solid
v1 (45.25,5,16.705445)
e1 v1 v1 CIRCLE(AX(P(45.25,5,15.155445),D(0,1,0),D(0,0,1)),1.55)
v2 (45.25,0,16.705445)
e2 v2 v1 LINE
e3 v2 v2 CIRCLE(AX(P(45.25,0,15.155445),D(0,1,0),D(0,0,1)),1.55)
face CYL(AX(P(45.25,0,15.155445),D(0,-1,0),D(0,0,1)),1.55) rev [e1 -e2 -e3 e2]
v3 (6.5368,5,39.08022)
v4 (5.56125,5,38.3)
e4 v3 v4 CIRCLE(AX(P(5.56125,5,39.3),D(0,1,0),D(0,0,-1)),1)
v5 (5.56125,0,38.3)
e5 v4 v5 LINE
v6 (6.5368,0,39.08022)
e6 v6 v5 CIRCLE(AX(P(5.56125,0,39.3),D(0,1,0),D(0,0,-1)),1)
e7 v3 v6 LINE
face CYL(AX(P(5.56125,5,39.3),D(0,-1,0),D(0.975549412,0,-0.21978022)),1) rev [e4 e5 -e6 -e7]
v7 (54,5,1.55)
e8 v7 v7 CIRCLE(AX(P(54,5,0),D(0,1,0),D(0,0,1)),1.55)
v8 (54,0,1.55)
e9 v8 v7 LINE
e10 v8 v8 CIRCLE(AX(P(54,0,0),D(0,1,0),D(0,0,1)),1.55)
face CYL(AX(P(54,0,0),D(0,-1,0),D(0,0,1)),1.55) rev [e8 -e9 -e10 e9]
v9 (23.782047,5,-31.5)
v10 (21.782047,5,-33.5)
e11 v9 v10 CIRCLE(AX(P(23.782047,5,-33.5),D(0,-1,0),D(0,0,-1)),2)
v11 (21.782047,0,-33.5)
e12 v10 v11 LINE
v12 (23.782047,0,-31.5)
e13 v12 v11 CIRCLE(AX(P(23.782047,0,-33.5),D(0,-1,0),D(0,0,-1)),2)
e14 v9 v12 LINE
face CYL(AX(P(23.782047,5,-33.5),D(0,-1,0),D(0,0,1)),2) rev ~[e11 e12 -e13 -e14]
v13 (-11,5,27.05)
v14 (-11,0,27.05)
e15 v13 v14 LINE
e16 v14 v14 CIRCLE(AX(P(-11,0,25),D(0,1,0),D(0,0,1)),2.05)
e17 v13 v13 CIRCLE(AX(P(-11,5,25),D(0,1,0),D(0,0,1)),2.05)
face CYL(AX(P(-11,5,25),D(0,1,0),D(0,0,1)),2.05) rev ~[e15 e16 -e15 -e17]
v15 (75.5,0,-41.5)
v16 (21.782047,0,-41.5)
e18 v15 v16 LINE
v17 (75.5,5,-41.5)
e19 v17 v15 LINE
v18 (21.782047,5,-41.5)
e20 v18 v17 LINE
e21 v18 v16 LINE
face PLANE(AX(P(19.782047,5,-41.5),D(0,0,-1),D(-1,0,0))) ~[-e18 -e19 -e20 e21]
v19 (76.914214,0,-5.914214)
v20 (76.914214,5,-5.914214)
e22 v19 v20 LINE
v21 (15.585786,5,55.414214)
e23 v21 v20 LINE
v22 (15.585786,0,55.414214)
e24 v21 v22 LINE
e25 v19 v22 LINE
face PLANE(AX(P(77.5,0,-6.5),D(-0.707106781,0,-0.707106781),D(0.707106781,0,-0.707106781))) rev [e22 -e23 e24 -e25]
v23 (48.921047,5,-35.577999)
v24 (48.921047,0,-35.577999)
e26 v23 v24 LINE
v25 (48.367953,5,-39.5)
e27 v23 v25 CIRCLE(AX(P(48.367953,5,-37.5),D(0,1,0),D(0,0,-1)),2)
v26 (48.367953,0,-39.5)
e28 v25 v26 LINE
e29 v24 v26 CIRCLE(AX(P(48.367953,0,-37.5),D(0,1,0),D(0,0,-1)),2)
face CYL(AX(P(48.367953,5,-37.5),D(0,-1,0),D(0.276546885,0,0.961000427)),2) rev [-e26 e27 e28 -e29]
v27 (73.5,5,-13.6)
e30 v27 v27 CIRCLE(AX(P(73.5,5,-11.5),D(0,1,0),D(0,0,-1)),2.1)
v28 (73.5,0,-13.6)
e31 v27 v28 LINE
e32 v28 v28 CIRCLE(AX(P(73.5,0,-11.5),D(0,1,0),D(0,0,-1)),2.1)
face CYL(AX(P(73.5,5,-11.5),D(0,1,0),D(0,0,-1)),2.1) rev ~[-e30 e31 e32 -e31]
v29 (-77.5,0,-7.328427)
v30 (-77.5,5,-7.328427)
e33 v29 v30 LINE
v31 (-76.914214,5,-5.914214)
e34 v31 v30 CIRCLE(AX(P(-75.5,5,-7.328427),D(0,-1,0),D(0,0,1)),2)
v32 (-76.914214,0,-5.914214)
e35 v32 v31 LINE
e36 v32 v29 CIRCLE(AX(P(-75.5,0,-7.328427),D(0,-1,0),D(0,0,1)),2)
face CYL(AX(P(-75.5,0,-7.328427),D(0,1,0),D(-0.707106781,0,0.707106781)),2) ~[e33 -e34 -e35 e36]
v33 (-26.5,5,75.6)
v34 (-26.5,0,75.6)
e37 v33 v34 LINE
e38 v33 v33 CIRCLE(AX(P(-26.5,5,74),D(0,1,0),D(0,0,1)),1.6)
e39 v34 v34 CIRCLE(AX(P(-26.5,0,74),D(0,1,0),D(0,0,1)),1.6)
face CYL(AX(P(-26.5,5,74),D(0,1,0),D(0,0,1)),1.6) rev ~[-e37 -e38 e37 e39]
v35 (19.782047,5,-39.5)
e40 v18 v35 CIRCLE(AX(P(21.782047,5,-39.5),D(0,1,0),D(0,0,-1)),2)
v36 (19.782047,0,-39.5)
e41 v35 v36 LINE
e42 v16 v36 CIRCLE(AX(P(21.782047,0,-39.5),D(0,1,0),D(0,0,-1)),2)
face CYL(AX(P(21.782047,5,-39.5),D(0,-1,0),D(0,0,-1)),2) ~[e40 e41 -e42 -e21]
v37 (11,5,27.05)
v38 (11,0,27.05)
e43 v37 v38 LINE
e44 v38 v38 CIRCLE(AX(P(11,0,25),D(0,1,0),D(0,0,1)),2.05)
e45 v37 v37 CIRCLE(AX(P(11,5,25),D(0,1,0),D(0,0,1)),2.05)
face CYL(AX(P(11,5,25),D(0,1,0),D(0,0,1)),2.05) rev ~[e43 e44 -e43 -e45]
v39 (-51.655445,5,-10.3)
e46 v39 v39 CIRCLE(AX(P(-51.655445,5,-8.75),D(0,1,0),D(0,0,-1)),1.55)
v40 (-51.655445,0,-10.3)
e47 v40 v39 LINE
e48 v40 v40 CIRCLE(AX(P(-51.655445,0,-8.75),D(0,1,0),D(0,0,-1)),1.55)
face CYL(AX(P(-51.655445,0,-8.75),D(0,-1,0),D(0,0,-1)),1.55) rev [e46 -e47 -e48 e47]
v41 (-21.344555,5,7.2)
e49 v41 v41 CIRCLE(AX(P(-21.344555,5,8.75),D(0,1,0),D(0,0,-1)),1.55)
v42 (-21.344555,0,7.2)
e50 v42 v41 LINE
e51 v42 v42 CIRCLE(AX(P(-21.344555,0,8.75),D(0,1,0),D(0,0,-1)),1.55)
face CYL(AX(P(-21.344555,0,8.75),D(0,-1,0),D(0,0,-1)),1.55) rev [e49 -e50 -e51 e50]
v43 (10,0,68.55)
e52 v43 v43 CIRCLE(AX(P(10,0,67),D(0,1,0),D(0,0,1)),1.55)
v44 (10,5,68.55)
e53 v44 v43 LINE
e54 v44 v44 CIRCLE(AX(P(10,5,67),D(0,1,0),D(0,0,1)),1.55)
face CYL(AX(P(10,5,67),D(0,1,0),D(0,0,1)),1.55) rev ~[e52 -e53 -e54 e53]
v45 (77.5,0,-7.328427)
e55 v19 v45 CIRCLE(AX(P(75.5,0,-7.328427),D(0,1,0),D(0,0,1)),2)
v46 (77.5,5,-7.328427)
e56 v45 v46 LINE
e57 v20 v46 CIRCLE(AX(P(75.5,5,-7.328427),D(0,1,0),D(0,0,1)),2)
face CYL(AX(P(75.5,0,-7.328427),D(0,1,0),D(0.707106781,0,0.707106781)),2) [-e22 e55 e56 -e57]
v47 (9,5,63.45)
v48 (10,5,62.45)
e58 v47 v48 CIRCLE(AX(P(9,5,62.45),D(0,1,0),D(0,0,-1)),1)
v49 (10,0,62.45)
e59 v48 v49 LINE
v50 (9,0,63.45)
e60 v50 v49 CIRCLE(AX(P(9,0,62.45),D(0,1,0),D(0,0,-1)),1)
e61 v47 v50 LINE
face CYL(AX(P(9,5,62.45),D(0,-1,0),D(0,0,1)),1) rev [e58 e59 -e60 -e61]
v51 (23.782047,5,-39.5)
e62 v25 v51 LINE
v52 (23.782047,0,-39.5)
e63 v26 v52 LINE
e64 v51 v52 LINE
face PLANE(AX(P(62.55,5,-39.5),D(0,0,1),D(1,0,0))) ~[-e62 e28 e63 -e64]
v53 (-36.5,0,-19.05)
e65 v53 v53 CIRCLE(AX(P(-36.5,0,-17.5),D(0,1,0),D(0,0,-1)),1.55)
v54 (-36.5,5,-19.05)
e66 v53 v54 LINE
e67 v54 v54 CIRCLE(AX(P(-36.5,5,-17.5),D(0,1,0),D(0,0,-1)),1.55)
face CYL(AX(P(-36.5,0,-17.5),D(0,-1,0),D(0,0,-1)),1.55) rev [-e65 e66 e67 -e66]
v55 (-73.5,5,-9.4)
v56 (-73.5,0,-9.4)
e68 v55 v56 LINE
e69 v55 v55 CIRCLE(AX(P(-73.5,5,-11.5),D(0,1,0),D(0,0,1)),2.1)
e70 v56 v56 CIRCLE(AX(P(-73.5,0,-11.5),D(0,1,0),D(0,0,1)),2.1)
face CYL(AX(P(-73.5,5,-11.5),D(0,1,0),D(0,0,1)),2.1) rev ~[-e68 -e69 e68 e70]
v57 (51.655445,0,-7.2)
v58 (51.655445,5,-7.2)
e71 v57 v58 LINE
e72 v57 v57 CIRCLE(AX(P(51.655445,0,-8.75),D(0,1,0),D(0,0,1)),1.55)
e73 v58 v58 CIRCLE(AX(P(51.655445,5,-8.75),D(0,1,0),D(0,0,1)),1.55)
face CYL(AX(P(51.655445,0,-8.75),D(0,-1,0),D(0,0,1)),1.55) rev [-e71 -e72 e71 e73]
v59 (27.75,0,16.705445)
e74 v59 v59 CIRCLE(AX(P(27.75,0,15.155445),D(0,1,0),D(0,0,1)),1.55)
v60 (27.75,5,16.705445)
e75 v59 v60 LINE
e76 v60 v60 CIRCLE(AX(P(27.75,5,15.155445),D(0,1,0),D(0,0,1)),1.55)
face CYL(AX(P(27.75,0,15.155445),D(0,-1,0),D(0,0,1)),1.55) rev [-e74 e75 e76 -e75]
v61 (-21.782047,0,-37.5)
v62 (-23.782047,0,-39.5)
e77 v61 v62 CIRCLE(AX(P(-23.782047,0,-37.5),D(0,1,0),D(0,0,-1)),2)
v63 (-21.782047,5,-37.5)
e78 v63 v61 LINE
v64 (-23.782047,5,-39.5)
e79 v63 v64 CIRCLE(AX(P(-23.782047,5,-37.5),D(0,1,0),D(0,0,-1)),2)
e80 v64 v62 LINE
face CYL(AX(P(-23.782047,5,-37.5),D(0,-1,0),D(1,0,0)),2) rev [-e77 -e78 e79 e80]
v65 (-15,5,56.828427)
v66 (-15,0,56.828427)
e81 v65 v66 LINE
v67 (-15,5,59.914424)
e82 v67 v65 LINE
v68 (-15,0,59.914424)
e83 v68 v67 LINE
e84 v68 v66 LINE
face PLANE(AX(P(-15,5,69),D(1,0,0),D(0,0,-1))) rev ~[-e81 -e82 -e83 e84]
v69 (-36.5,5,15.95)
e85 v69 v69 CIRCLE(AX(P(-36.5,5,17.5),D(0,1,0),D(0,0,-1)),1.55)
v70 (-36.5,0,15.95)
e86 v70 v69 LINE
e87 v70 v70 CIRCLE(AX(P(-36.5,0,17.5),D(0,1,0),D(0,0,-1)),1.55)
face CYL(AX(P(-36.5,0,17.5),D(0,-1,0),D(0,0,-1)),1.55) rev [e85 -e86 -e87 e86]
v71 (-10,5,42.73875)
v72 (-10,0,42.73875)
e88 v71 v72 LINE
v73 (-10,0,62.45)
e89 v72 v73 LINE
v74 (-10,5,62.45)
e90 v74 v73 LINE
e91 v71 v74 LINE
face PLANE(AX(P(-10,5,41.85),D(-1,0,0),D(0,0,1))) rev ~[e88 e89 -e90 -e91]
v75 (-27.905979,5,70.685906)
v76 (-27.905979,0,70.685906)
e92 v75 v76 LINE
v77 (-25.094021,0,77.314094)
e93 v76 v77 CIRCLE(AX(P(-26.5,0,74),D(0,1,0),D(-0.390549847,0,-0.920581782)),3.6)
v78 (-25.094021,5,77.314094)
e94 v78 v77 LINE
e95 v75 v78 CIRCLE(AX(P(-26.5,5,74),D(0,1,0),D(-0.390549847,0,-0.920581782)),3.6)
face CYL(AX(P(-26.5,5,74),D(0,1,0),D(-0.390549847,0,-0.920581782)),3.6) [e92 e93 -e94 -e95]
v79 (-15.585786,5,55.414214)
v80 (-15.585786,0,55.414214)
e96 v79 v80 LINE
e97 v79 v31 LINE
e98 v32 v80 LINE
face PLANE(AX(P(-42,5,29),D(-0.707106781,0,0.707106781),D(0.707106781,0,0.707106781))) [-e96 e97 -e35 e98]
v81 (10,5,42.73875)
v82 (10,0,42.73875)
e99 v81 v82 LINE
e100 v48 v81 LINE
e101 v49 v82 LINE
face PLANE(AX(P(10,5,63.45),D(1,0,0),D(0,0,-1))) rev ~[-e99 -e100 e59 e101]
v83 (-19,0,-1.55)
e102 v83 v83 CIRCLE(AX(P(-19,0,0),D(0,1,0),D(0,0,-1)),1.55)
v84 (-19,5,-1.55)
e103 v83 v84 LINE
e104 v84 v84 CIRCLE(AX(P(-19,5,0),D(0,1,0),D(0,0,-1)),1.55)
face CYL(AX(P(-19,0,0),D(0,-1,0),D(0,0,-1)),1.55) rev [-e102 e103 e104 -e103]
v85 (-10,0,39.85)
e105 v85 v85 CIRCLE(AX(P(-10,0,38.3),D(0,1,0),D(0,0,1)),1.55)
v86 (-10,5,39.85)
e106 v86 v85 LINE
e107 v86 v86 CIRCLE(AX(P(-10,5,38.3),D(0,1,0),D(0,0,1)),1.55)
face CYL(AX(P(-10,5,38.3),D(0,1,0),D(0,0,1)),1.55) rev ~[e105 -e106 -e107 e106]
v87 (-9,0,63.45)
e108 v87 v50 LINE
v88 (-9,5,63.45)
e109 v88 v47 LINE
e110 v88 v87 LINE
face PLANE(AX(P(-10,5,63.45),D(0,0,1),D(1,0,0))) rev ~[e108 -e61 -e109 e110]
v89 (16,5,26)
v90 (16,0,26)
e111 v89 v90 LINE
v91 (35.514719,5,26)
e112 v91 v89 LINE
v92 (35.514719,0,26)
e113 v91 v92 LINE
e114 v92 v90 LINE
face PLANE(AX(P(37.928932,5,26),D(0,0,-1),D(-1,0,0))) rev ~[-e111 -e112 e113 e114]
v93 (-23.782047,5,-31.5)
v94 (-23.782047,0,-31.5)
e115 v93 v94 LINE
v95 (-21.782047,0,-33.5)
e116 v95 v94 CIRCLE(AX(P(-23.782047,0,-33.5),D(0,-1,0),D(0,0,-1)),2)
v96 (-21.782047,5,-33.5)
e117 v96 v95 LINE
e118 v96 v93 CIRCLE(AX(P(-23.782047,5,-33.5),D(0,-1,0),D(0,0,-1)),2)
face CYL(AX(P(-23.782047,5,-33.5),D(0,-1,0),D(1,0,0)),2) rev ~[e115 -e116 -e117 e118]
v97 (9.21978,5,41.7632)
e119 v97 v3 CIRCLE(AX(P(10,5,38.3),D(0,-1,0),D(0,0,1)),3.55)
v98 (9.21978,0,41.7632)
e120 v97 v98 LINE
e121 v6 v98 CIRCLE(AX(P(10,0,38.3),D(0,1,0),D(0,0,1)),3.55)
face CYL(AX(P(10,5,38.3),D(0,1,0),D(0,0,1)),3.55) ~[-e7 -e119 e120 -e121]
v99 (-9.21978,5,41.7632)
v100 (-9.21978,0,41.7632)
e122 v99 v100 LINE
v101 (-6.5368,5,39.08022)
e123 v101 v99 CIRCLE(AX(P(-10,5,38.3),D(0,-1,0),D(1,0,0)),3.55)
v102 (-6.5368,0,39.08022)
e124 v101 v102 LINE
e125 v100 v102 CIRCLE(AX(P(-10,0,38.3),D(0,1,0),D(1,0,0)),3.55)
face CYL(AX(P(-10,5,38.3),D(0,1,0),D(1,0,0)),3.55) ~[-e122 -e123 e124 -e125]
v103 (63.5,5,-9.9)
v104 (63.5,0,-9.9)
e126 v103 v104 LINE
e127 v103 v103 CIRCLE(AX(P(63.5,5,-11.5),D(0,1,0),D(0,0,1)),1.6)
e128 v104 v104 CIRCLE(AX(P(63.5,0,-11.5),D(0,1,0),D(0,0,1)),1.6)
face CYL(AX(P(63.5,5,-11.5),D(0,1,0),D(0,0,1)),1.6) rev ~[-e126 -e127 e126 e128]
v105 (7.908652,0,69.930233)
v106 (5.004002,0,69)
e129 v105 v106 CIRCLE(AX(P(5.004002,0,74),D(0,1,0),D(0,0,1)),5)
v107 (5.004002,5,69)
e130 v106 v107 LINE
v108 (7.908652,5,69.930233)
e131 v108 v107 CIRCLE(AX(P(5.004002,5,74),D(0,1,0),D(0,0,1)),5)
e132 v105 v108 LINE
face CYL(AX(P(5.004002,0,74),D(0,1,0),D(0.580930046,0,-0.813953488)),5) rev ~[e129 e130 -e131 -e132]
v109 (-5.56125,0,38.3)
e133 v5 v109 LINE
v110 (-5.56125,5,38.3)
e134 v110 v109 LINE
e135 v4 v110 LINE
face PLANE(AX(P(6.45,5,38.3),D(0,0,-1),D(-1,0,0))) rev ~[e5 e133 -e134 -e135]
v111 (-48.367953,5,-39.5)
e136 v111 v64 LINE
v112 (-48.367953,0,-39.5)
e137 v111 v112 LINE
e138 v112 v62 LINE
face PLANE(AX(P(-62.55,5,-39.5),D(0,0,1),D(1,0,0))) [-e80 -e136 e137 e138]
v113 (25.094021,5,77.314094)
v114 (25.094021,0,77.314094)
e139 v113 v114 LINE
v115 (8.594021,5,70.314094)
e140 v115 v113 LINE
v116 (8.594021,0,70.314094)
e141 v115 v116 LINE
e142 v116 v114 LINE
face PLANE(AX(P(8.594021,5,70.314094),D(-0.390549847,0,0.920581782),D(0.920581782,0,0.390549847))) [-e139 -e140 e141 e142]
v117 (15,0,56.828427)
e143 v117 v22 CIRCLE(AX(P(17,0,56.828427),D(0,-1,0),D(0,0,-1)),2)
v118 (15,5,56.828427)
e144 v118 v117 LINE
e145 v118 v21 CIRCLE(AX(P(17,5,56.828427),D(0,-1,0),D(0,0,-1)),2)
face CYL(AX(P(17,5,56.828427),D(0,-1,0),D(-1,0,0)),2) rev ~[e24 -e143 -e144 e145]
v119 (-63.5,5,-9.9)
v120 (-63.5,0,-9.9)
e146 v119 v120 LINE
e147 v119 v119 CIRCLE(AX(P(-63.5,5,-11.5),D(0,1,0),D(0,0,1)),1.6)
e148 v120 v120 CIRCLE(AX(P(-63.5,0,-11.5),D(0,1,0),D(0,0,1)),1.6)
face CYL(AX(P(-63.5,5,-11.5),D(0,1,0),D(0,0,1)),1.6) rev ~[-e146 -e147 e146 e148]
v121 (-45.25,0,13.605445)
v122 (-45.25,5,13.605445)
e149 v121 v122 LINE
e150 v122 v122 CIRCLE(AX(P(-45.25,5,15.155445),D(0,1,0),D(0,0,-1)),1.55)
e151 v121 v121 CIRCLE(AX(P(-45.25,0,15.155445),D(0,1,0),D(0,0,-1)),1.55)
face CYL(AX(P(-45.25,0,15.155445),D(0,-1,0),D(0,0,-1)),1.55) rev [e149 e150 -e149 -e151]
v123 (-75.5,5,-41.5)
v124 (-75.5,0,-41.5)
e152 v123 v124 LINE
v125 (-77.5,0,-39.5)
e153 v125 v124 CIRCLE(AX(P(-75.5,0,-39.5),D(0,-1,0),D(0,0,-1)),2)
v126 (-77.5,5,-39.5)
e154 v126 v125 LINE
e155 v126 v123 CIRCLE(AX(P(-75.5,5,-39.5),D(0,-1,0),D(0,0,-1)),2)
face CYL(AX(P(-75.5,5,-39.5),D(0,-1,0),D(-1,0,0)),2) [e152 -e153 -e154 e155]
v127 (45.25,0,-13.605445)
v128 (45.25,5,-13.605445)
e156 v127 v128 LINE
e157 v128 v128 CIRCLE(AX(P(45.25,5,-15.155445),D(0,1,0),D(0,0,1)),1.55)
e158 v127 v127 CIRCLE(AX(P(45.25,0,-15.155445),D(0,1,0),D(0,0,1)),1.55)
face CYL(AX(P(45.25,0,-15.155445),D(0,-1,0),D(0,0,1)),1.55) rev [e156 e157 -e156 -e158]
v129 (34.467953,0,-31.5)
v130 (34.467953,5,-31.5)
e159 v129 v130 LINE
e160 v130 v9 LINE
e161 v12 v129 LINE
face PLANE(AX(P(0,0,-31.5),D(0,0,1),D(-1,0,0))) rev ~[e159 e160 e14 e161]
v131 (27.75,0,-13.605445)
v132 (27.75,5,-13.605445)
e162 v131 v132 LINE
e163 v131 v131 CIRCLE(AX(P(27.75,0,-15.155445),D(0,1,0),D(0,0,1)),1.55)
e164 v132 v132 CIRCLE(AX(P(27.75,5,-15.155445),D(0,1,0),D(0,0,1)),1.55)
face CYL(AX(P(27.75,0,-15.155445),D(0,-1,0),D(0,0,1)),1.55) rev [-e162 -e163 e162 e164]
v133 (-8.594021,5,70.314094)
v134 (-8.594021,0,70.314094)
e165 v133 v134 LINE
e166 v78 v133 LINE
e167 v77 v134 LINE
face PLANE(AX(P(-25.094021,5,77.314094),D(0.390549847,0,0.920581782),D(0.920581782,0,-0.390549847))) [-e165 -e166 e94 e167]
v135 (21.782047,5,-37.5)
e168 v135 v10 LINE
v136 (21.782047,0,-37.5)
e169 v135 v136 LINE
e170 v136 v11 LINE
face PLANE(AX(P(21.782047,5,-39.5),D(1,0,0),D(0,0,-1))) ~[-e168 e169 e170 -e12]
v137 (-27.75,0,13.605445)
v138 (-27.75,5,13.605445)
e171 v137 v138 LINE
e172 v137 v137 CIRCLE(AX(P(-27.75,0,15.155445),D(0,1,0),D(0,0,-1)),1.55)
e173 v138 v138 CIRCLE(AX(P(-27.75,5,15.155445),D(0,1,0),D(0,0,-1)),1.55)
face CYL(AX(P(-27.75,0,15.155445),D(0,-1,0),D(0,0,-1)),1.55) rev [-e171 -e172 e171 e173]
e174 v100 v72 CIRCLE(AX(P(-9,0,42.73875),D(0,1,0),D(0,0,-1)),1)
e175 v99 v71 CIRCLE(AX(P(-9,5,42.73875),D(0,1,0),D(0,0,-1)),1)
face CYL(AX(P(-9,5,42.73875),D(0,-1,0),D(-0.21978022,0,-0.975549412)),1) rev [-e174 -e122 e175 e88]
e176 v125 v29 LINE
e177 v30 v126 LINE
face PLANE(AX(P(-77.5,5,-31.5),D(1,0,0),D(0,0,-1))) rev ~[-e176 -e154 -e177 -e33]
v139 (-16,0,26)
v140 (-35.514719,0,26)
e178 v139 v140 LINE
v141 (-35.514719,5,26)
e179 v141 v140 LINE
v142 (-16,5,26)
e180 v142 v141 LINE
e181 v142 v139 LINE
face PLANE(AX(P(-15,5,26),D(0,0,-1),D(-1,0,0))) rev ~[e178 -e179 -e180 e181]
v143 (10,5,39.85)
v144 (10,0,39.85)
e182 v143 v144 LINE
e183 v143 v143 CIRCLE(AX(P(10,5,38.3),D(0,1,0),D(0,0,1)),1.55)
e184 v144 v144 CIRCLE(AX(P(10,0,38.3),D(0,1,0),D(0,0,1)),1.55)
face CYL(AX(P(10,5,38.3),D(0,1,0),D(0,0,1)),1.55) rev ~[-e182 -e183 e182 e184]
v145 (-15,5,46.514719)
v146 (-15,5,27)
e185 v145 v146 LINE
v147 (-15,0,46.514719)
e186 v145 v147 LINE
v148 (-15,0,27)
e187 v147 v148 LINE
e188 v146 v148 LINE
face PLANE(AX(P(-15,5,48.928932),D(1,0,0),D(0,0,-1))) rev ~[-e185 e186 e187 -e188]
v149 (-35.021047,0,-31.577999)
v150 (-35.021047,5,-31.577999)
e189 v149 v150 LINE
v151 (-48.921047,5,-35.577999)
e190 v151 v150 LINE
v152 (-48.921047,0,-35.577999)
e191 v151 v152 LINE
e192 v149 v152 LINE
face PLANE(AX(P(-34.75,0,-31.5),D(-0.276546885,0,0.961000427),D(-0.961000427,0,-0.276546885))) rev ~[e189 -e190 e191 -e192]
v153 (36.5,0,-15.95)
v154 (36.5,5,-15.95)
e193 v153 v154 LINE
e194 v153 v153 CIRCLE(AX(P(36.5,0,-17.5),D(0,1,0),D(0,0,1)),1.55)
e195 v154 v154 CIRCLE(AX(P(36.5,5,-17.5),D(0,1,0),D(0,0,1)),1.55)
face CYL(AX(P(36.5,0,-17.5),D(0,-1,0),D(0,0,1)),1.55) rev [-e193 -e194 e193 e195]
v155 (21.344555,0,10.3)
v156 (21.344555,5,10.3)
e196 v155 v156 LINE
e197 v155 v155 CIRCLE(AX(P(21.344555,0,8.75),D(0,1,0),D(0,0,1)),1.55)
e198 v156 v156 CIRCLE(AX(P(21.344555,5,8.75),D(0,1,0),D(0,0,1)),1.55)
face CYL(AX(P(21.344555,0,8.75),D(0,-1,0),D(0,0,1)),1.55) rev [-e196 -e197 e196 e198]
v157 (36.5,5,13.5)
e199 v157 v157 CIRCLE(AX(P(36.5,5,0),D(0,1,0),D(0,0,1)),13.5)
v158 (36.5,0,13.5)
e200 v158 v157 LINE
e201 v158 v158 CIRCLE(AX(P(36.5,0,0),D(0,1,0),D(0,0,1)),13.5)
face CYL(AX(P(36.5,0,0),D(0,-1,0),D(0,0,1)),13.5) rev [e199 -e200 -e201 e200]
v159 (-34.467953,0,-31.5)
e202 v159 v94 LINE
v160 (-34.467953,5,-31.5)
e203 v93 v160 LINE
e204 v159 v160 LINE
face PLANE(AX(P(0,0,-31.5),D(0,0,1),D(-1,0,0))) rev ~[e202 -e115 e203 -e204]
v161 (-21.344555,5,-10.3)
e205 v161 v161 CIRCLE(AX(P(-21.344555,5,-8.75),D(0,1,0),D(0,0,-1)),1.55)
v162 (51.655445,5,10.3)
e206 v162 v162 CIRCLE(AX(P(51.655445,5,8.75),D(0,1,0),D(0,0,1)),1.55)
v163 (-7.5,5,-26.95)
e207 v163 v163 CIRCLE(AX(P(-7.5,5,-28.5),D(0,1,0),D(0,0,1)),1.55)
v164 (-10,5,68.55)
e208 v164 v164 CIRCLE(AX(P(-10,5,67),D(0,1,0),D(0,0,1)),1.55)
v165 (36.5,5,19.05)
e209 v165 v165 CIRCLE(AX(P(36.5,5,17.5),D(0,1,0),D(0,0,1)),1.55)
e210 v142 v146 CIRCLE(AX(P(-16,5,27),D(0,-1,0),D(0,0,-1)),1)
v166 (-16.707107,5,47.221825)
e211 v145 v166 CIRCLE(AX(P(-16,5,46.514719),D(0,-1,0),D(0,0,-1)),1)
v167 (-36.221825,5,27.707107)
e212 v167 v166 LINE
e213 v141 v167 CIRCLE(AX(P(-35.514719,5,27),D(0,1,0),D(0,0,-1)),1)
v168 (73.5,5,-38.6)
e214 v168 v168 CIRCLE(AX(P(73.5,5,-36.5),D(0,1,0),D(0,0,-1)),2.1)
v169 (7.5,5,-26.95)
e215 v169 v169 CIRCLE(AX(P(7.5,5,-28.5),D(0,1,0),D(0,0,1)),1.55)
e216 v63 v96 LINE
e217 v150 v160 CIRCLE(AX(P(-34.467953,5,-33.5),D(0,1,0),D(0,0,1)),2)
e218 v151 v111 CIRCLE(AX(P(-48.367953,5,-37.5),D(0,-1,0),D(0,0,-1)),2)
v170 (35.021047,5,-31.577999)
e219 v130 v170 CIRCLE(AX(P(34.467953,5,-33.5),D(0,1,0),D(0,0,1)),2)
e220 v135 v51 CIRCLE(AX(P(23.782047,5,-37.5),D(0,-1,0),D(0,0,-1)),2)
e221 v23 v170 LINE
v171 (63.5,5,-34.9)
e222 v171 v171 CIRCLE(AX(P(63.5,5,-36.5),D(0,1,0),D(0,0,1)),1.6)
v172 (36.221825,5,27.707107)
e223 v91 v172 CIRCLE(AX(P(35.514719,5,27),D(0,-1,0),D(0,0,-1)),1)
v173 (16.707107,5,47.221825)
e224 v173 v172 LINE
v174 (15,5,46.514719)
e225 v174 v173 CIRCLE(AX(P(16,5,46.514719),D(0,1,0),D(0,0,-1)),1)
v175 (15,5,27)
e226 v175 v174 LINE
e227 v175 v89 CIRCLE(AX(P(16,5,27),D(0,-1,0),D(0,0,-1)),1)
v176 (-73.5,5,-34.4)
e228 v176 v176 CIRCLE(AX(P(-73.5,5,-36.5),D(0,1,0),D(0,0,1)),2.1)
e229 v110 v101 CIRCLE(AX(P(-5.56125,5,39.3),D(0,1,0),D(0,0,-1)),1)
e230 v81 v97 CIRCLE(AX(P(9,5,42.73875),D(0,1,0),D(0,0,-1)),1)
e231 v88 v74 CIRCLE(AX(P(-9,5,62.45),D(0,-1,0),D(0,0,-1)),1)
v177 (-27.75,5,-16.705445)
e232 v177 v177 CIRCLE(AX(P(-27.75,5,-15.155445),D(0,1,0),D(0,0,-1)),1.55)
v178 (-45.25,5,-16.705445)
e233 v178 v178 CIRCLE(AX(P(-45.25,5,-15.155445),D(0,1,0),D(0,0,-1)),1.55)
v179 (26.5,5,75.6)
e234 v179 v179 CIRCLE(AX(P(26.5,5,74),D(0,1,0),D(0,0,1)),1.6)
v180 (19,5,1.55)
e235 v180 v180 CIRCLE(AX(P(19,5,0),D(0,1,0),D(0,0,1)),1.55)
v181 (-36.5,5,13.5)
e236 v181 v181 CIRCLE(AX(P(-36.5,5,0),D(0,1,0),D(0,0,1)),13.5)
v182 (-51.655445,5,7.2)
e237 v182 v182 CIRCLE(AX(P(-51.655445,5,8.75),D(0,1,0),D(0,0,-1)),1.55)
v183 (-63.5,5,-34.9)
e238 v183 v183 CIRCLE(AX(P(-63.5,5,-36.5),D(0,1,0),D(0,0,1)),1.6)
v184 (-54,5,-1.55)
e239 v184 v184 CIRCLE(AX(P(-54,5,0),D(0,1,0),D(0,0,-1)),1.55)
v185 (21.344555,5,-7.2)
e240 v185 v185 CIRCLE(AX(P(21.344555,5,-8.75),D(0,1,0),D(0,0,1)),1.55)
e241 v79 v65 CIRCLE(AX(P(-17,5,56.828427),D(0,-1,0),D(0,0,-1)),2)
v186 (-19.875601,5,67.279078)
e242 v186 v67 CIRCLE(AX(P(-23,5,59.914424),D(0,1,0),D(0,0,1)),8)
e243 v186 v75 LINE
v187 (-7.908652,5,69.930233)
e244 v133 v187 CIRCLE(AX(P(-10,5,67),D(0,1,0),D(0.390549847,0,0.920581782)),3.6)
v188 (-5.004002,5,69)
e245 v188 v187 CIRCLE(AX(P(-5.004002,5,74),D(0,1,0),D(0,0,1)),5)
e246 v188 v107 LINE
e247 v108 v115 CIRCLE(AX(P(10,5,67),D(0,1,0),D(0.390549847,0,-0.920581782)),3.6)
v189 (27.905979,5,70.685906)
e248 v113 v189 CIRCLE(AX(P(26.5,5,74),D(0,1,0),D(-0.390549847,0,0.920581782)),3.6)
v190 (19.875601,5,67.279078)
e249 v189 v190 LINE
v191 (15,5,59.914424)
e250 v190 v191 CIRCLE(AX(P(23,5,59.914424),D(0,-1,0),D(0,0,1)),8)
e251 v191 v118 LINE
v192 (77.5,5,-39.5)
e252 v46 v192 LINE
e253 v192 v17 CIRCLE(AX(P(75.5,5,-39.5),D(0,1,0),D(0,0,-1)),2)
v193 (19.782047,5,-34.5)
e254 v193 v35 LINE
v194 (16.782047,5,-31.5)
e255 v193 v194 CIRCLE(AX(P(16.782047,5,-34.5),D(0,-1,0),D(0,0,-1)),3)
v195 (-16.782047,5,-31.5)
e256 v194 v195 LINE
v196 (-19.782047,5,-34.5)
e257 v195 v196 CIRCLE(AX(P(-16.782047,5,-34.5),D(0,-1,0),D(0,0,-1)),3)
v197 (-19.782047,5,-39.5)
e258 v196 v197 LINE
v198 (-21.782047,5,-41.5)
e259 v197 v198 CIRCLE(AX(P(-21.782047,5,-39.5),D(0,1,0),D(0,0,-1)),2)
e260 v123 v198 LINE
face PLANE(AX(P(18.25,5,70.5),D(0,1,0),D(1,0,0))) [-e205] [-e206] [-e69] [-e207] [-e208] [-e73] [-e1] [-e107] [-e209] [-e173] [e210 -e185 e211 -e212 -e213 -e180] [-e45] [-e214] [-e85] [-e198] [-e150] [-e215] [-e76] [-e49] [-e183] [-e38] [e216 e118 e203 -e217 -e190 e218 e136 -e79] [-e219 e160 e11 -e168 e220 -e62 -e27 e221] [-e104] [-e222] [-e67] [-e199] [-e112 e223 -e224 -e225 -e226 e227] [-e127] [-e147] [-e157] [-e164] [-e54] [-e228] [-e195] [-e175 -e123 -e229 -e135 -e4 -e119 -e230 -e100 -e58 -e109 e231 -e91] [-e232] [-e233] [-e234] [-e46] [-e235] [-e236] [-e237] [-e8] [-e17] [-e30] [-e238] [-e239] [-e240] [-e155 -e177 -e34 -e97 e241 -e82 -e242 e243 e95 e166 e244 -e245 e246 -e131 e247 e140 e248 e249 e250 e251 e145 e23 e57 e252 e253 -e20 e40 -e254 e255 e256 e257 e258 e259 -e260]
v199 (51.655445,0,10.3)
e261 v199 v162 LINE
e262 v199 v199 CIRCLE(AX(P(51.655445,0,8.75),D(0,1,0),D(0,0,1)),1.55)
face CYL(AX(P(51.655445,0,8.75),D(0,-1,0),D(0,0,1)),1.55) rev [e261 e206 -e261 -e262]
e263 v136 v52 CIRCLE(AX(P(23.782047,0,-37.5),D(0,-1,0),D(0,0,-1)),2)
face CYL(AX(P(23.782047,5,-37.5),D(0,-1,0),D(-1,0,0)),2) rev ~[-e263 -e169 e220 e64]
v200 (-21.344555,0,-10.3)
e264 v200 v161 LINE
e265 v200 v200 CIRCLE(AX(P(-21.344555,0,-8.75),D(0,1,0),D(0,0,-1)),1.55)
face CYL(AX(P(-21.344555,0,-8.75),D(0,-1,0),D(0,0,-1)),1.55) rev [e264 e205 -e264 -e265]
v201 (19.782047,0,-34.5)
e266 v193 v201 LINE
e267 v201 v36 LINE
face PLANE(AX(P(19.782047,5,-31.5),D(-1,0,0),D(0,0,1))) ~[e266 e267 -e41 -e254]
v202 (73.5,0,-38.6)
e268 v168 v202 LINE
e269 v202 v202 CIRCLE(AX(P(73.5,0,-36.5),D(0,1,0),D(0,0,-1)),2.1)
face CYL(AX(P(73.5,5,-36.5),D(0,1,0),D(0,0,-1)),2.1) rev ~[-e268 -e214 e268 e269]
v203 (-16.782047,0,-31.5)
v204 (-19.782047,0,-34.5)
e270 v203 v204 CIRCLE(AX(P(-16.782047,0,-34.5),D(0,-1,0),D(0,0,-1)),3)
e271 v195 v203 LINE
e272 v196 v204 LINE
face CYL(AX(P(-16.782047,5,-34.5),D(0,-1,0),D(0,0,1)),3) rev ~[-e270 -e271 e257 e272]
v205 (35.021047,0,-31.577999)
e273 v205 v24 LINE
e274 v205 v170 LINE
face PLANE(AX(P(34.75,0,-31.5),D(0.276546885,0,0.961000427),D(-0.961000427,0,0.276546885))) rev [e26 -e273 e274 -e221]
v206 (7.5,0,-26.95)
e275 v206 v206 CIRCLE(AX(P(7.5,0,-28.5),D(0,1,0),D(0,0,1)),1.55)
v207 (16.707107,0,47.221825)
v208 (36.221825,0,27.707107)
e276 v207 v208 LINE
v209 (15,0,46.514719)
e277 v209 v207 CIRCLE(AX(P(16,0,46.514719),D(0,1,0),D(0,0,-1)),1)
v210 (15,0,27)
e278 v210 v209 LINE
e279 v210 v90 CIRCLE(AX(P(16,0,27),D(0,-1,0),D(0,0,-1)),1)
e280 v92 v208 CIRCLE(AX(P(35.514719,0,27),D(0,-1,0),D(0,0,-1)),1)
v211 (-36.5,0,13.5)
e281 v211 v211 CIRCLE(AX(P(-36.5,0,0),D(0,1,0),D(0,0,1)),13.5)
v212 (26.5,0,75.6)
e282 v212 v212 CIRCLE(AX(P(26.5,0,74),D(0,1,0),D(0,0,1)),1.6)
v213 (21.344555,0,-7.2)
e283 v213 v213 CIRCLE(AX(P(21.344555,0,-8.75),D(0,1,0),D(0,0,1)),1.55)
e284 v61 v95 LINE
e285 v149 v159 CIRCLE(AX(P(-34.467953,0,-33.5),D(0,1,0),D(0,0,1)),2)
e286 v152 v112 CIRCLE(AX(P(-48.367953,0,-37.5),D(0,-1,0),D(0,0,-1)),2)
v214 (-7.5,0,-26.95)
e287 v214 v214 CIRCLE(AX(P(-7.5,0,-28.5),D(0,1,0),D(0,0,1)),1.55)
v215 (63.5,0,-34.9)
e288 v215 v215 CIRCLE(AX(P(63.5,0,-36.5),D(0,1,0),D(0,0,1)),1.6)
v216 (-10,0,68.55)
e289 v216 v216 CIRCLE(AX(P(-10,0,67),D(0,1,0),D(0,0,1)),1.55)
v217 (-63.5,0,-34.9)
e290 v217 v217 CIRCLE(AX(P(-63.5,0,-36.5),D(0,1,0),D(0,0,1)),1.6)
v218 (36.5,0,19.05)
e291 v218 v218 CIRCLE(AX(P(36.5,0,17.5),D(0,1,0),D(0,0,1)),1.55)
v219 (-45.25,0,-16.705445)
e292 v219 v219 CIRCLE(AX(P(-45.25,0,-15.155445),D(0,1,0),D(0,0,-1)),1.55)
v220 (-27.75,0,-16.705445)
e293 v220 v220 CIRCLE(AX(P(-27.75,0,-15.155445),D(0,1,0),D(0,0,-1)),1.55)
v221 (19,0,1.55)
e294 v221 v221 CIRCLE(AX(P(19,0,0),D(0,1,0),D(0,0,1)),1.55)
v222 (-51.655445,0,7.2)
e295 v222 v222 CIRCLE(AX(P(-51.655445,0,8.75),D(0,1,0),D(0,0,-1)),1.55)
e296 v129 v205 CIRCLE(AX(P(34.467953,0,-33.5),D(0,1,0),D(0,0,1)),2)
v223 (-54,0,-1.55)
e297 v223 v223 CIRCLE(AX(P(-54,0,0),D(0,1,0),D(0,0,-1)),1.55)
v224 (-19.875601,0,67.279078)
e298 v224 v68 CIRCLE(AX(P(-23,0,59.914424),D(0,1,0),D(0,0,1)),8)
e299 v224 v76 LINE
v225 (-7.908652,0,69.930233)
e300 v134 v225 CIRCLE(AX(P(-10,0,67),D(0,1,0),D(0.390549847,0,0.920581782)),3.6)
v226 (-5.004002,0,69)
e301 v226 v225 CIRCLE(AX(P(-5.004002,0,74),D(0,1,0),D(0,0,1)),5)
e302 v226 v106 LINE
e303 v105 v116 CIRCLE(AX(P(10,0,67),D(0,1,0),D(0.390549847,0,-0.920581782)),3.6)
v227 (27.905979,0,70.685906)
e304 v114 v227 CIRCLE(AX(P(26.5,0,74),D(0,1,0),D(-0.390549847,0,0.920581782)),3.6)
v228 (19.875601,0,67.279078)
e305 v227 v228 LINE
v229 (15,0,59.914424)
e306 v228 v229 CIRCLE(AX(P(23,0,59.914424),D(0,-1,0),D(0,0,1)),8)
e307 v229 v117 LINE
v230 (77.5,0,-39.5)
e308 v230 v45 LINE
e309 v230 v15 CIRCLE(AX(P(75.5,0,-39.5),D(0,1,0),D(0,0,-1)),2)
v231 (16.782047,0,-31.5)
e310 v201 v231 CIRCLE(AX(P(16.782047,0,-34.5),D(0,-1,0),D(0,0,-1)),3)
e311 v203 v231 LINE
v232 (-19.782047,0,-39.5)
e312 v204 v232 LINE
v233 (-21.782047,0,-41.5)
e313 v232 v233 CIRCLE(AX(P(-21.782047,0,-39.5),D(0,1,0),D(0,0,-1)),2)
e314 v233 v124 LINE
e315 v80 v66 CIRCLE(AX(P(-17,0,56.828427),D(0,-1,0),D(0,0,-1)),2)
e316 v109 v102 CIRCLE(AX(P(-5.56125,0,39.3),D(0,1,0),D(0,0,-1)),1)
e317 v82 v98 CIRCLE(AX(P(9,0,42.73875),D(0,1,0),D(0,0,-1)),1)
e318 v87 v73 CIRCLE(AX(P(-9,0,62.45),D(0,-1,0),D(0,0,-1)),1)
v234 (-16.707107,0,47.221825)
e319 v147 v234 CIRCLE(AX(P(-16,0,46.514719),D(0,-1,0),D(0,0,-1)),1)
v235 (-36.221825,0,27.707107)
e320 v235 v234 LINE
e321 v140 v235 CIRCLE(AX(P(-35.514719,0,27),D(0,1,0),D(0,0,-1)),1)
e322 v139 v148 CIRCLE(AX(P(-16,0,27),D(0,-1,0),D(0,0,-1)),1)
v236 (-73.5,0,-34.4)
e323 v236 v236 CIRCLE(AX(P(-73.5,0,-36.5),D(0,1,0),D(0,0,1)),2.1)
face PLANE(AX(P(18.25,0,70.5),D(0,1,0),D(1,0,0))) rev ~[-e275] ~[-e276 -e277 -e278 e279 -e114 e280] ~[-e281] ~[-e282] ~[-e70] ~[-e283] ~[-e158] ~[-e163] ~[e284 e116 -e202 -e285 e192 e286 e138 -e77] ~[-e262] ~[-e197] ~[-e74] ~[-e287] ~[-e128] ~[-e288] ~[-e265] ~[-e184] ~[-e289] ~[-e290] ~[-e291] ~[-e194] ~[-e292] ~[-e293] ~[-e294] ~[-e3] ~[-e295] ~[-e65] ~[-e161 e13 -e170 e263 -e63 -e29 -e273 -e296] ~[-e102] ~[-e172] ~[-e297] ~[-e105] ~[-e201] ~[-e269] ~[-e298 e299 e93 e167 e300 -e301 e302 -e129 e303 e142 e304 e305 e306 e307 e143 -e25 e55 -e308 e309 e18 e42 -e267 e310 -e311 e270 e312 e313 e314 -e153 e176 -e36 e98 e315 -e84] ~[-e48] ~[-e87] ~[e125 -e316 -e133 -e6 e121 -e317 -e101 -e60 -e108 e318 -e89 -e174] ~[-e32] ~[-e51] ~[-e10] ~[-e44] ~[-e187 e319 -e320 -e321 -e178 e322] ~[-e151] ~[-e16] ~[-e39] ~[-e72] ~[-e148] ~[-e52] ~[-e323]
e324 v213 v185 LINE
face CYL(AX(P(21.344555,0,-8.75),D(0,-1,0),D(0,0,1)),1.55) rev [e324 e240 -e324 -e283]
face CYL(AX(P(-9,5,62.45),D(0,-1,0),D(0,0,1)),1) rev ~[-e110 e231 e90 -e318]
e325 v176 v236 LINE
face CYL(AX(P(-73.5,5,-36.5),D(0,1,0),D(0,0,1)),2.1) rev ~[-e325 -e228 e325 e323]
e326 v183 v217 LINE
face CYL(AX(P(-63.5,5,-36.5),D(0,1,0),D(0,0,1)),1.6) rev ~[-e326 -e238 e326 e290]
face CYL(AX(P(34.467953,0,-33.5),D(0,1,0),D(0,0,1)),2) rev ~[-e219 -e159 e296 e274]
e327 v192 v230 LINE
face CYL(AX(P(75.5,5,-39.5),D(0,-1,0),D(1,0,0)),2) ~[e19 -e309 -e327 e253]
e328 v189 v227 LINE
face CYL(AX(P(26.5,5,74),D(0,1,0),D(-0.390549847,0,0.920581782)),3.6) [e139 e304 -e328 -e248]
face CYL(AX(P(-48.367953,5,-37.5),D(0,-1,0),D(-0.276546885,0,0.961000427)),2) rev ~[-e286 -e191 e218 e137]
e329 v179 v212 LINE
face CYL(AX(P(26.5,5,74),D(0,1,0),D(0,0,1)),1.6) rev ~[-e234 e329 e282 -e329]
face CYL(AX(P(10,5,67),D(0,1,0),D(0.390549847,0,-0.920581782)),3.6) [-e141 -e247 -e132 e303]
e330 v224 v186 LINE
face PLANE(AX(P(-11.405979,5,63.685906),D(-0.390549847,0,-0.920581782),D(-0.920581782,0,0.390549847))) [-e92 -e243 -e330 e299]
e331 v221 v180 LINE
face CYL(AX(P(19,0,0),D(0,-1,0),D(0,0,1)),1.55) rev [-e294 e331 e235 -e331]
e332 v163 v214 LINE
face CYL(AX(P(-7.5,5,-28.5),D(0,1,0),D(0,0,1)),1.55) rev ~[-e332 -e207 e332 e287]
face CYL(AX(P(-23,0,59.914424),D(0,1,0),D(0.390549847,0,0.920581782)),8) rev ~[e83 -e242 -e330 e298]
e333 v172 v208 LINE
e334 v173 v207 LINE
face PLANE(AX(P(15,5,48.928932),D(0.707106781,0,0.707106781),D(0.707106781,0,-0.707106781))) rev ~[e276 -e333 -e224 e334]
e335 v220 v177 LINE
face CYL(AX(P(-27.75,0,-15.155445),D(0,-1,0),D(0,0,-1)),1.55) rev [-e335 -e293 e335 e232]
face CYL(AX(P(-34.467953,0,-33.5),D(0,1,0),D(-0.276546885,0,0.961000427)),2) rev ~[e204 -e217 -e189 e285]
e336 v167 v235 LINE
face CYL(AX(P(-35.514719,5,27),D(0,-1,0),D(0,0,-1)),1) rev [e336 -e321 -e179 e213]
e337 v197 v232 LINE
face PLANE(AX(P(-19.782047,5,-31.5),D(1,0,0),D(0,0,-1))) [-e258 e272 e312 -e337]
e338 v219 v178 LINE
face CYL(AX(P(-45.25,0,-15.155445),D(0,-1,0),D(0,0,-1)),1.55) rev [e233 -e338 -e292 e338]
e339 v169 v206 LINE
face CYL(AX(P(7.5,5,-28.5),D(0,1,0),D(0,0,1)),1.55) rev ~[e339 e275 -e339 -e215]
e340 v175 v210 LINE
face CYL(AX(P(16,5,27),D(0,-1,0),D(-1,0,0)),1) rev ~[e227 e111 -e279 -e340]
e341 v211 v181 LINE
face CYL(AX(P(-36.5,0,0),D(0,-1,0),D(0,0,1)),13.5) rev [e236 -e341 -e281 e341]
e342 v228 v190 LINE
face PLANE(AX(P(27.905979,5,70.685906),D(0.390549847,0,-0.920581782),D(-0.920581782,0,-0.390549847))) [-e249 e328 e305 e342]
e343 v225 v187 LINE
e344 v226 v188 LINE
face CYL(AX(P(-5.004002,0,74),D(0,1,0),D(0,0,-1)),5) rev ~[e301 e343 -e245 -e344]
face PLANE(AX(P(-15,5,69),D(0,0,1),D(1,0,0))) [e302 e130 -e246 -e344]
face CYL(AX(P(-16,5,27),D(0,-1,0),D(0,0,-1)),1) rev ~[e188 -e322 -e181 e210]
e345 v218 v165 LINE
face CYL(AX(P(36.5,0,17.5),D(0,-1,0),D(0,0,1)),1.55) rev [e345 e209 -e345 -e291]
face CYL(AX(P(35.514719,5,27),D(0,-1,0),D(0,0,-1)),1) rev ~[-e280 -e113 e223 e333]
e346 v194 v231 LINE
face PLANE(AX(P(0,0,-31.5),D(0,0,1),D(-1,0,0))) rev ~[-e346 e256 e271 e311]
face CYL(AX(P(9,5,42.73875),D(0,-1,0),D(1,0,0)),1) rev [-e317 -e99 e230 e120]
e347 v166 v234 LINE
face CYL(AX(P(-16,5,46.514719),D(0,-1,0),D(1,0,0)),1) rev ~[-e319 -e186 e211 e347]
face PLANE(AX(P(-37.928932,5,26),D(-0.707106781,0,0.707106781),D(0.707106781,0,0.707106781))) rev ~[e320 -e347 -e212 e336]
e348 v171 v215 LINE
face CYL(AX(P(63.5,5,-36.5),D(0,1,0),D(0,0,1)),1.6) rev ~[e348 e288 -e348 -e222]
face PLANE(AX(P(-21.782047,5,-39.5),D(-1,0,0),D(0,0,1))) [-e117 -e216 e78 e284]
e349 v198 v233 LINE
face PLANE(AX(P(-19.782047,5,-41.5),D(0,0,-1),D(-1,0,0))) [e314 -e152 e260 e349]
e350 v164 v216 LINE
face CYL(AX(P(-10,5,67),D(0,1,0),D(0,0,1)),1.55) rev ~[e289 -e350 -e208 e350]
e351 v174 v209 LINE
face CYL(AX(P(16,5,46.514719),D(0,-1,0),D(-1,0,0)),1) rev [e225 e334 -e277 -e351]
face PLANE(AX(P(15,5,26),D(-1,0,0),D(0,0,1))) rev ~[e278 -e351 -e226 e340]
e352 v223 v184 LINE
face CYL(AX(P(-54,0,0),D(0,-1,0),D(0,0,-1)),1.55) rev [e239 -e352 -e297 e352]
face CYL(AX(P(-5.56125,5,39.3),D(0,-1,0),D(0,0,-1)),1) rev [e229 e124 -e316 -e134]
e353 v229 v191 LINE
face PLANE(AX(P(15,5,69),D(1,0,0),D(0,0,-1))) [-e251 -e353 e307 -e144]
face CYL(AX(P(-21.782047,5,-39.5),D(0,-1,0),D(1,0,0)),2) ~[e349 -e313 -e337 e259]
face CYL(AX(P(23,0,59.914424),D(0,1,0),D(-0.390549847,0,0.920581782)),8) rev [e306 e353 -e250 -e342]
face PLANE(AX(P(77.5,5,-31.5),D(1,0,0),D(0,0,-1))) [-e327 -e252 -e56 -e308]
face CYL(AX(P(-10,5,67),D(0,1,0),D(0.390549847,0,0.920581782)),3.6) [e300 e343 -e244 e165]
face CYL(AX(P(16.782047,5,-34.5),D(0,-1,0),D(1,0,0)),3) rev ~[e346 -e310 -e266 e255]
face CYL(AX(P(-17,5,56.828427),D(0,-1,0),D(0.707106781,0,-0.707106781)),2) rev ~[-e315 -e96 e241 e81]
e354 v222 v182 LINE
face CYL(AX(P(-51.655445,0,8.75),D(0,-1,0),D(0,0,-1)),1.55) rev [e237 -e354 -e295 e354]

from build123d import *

# Parameters (mm, degrees)
SKETCH_1_W          = 155
SKETCH_1_H          = 60.5
SKETCH_1_R          = 13.5
SKETCH_1_R_2        = 1.55
EXTRUDE_1_DEPTH     = 5
SKETCH_3_W          = 30
SKETCH_3_H          = 40
EXTRUDE_2_DEPTH     = 5
SKETCH_4_W          = 155
SKETCH_4_H          = 10
EXTRUDE_3_DEPTH     = 5
CUT_EXTRUDE_1_DEPTH = 104.885754558
SKETCH_6_R          = 2.1
CUT_EXTRUDE_2_DEPTH = 104.885754558
SKETCH_7_R          = 1.55
SKETCH_7_R_2        = 2.05
CUT_EXTRUDE_3_DEPTH = 104.885754558
EXTRUDE_6_DEPTH     = 5
CUT_EXTRUDE_4_DEPTH = 5
SKETCH_13_R         = 1.55
CUT_EXTRUDE_5_DEPTH = 104.885754558
FILLET_1_R          = 1
FILLET_2_R          = 2
EXTRUDE_8_DEPTH     = 5
FILLET_3_R          = 2
FILLET_4_R          = 3
SKETCH_15_R         = 1.55
SKETCH_15_R_2       = 1.6
EXTRUDE_9_DEPTH     = 5
FILLET_5_R          = 5
FILLET_6_R          = 8
SKETCH_16_R         = 1.6
CUT_EXTRUDE_6_DEPTH = 110.786201319


with BuildPart() as part:
    # 草图1 → 凸台-拉伸1 (new body)
    with BuildSketch(Plane(origin=(0, 0, 0), x_dir=(1, 0, 0), z_dir=(0, 1, 0))):
        with Locations((0, 1.25)):
            Rectangle(SKETCH_1_W, SKETCH_1_H)
        with Locations(Location((36.5, 0, 0), (0, 0, 270))):
            Circle(SKETCH_1_R, mode=Mode.SUBTRACT)
        with Locations(Location((-36.5, 0, 0), (0, 0, 270))):
            Circle(SKETCH_1_R, mode=Mode.SUBTRACT)
        with Locations(Location((36.5, 17.5, 0), (0, 0, 270))):
            Circle(SKETCH_1_R_2, mode=Mode.SUBTRACT)
        with Locations(Location((45.25, 15.155444566, 0), (0, 0, 270))):
            Circle(SKETCH_1_R_2, mode=Mode.SUBTRACT)
        with Locations(Location((51.655444566, 8.75, 0), (0, 0, 270))):
            Circle(SKETCH_1_R_2, mode=Mode.SUBTRACT)
        with Locations(Location((54, 0, 0), (0, 0, 270))):
            Circle(SKETCH_1_R_2, mode=Mode.SUBTRACT)
        with Locations(Location((51.655444566, -8.75, 0), (0, 0, 270))):
            Circle(SKETCH_1_R_2, mode=Mode.SUBTRACT)
        with Locations(Location((45.25, -15.155444566, 0), (0, 0, 270))):
            Circle(SKETCH_1_R_2, mode=Mode.SUBTRACT)
        with Locations(Location((36.5, -17.5, 0), (0, 0, 270))):
            Circle(SKETCH_1_R_2, mode=Mode.SUBTRACT)
        with Locations(Location((27.75, -15.155444566, 0), (0, 0, 270))):
            Circle(SKETCH_1_R_2, mode=Mode.SUBTRACT)
        with Locations(Location((21.344555434, -8.75, 0), (0, 0, 270))):
            Circle(SKETCH_1_R_2, mode=Mode.SUBTRACT)
        with Locations(Location((19, 0, 0), (0, 0, 270))):
            Circle(SKETCH_1_R_2, mode=Mode.SUBTRACT)
        with Locations(Location((21.344555434, 8.75, 0), (0, 0, 270))):
            Circle(SKETCH_1_R_2, mode=Mode.SUBTRACT)
        with Locations(Location((27.75, 15.155444566, 0), (0, 0, 270))):
            Circle(SKETCH_1_R_2, mode=Mode.SUBTRACT)
        with Locations(Location((-36.5, 17.5, 0), (0, 0, 90))):
            Circle(SKETCH_1_R_2, mode=Mode.SUBTRACT)
        with Locations(Location((-27.75, 15.155444566, 0), (0, 0, 90))):
            Circle(SKETCH_1_R_2, mode=Mode.SUBTRACT)
        with Locations(Location((-21.344555434, 8.75, 0), (0, 0, 90))):
            Circle(SKETCH_1_R_2, mode=Mode.SUBTRACT)
        with Locations(Location((-19, 0, 0), (0, 0, 90))):
            Circle(SKETCH_1_R_2, mode=Mode.SUBTRACT)
        with Locations(Location((-21.344555434, -8.75, 0), (0, 0, 90))):
            Circle(SKETCH_1_R_2, mode=Mode.SUBTRACT)
        with Locations(Location((-27.75, -15.155444566, 0), (0, 0, 90))):
            Circle(SKETCH_1_R_2, mode=Mode.SUBTRACT)
        with Locations(Location((-36.5, -17.5, 0), (0, 0, 90))):
            Circle(SKETCH_1_R_2, mode=Mode.SUBTRACT)
        with Locations(Location((-45.25, -15.155444566, 0), (0, 0, 90))):
            Circle(SKETCH_1_R_2, mode=Mode.SUBTRACT)
        with Locations(Location((-51.655444566, -8.75, 0), (0, 0, 90))):
            Circle(SKETCH_1_R_2, mode=Mode.SUBTRACT)
        with Locations(Location((-54, 0, 0), (0, 0, 90))):
            Circle(SKETCH_1_R_2, mode=Mode.SUBTRACT)
        with Locations(Location((-51.655444566, 8.75, 0), (0, 0, 90))):
            Circle(SKETCH_1_R_2, mode=Mode.SUBTRACT)
        with Locations(Location((-45.25, 15.155444566, 0), (0, 0, 90))):
            Circle(SKETCH_1_R_2, mode=Mode.SUBTRACT)
    extrude(amount=EXTRUDE_1_DEPTH)

    # 草图3 → 凸台-拉伸2 (add)
    with BuildSketch(Plane(origin=(0, 5, 0), x_dir=(1, 0, 0), z_dir=(0, 1, 0))):
        with Locations((0, -49)):
            Rectangle(SKETCH_3_W, SKETCH_3_H)
    extrude(amount=-EXTRUDE_2_DEPTH)

    # 草图4 → 凸台-拉伸3 (add)
    with BuildSketch(Plane(origin=(0, 5, 0), x_dir=(1, 0, 0), z_dir=(0, 1, 0))):
        with Locations((0, 36.5)):
            Rectangle(SKETCH_4_W, SKETCH_4_H)
    extrude(amount=-EXTRUDE_3_DEPTH)

    # 草图5 → 切除-拉伸1 (cut, through all)
    with BuildSketch(Plane.XZ):
        Polygon((-77.5, 29), (-77.5, -6.5), (-42, 29), align=None)
        Polygon((-34.75, -31.5), (-69.5, -41.5), (0, -41.5), (0, -31.5), align=None)
    cut_extrude_1 = extrude(amount=-CUT_EXTRUDE_1_DEPTH, mode=Mode.SUBTRACT)

    # 镜向1: 切除-拉伸1 across plane
    add(cut_extrude_1.mirror(Plane(origin=(0, 0, 0), x_dir=(0, 0, 1), z_dir=(1, 0, 0))), mode=Mode.SUBTRACT)

    # 草图6 → 切除-拉伸2 (cut, through all)
    with BuildSketch(Plane(origin=(0, 5, 0), x_dir=(1, 0, 0), z_dir=(0, 1, 0))):
        with Locations(Location((-73.5, 36.5, 0), (0, 0, 270))):
            Circle(SKETCH_6_R)
        with Locations(Location((-73.5, 11.5, 0), (0, 0, 270))):
            Circle(SKETCH_6_R)
        with Locations(Location((73.5, 11.5, 0), (0, 0, 90))):
            Circle(SKETCH_6_R)
        with Locations(Location((73.5, 36.5, 0), (0, 0, 90))):
            Circle(SKETCH_6_R)
    extrude(amount=-CUT_EXTRUDE_2_DEPTH, mode=Mode.SUBTRACT)

    # 草图7 → 切除-拉伸3 (cut, through all)
    with BuildSketch(Plane(origin=(0, 5, 0), x_dir=(1, 0, 0), z_dir=(0, 1, 0))):
        with Locations(Location((7.5, 28.5, 0), (0, 0, 270))):
            Circle(SKETCH_7_R)
        with Locations(Location((-7.5, 28.5, 0), (0, 0, 270))):
            Circle(SKETCH_7_R)
        with Locations(Location((11, -25, 0), (0, 0, 270))):
            Circle(SKETCH_7_R_2)
        with Locations(Location((-11, -25, 0), (0, 0, 270))):
            Circle(SKETCH_7_R_2)
    extrude(amount=-CUT_EXTRUDE_3_DEPTH, mode=Mode.SUBTRACT)

    # 草图10 → 凸台-拉伸6 (add)
    with BuildSketch(Plane(origin=(0, 5, 0), x_dir=(1, 0, 0), z_dir=(0, 1, 0))):
        Polygon((-42, -29), (-15, -56), (-15, -29), align=None)
        Polygon((15, -29), (15, -56), (42, -29), align=None)
    extrude(amount=-EXTRUDE_6_DEPTH)

    # 草图11 → 切除-拉伸4 (cut)
    with BuildSketch(Plane(origin=(0, 5, 0), x_dir=(1, 0, 0), z_dir=(0, 1, 0))):
        Polygon((-15, -26), (-37.928932188, -26), (-15, -48.928932188), align=None)
        Polygon((15, -26), (15, -48.928932188), (37.928932188, -26), align=None)
    extrude(amount=-CUT_EXTRUDE_4_DEPTH, mode=Mode.SUBTRACT)

    # 草图13 → 切除-拉伸5 (cut, through all)
    with BuildSketch(Plane(origin=(0, 5, 0), x_dir=(1, 0, 0), z_dir=(0, 1, 0))):
        with BuildLine():
            Line((-10, -63.45), (10, -63.45))
            Line((10, -63.45), (10, -41.85))
            ThreePointArc((10, -41.85), (7.489770927, -40.810229073), (6.45, -38.3))
            Line((6.45, -38.3), (-6.45, -38.3))
            ThreePointArc((-6.45, -38.3), (-7.489770927, -40.810229073), (-10, -41.85))
            Line((-10, -41.85), (-10, -63.45))
        make_face()
        with Locations(Location((10, -67, 0), (0, 0, 270))):
            Circle(SKETCH_13_R)
        with Locations(Location((-10, -67, 0), (0, 0, 270))):
            Circle(SKETCH_13_R)
        with Locations(Location((10, -38.3, 0), (0, 0, 270))):
            Circle(SKETCH_13_R)
        with Locations(Location((-10, -38.3, 0), (0, 0, 270))):
            Circle(SKETCH_13_R)
    extrude(amount=-CUT_EXTRUDE_5_DEPTH, mode=Mode.SUBTRACT)

    # 圆角1
    fillet_1_edges = [part.edges().sort_by_distance(p)[0] for p in [
        (-15, 2.5, 26),
        (-15, 2.5, 48.928932188),
        (-37.928932188, 2.5, 26),
        (15, 2.5, 26),
        (37.928932188, 2.5, 26),
        (15, 2.5, 48.928932188),
        (6.45, 2.5, 38.3),
        (10, 2.5, 41.85),
        (10, 2.5, 63.45),
        (-10, 2.5, 63.45),
        (-10, 2.5, 41.85),
        (-6.45, 2.5, 38.3),
    ]]
    fillet(fillet_1_edges, radius=FILLET_1_R)

    # 圆角2
    fillet_2_edges = [part.edges().sort_by_distance(p)[0] for p in [
        (-15, 2.5, 69),
        (15, 2.5, 69),
        (-77.5, 2.5, -41.5),
        (77.5, 2.5, -41.5),
        (-77.5, 2.5, -6.5),
        (-69.5, 2.5, -41.5),
        (-34.75, 2.5, -31.5),
        (77.5, 2.5, -6.5),
        (34.75, 2.5, -31.5),
        (69.5, 2.5, -41.5),
        (-15, 2.5, 56),
        (15, 2.5, 56),
    ]]
    fillet(fillet_2_edges, radius=FILLET_2_R)

    # 草图14 → 凸台-拉伸8 (add)
    with BuildSketch(Plane(origin=(0, 5, 0), x_dir=(1, 0, 0), z_dir=(0, 1, 0))):
        with BuildLine():
            Line((-19.782046737, 41.5), (-69.782046737, 41.5))
            ThreePointArc((-69.782046737, 41.5), (-69.502763464, 41.480404215), (-69.228952966, 41.422000853))
            Line((-69.228952966, 41.422000853), (-62.55, 39.5))
            Line((-62.55, 39.5), (-21.782046737, 39.5))
            Line((-21.782046737, 39.5), (-21.782046737, 31.5))
            Line((-21.782046737, 31.5), (-19.782046737, 31.5))
            Line((-19.782046737, 31.5), (-19.782046737, 41.5))
        make_face()
    extrude_8 = extrude(amount=-EXTRUDE_8_DEPTH)

    # 镜向2: 凸台-拉伸8 across plane
    add(extrude_8.mirror(Plane(origin=(0, 0, 0), x_dir=(0, 0, 1), z_dir=(1, 0, 0))))

    # 圆角3
    fillet_3_edges = [part.edges().sort_by_distance(p)[0] for p in [
        (-19.782046737, 2.5, -41.5),
        (-21.782046737, 2.5, -31.5),
        (-21.782046737, 2.5, -39.5),
        (-62.55, 2.5, -39.5),
        (62.55, 2.5, -39.5),
        (21.782046737, 2.5, -39.5),
        (21.782046737, 2.5, -31.5),
        (19.782046737, 2.5, -41.5),
    ]]
    fillet(fillet_3_edges, radius=FILLET_3_R)

    # 圆角4
    fillet_4_edges = [part.edges().sort_by_distance(p)[0] for p in [
        (-19.782046737, 2.5, -31.5),
        (19.782046737, 2.5, -31.5),
    ]]
    fillet(fillet_4_edges, radius=FILLET_4_R)

    # 草图15 → 凸台-拉伸9 (add)
    # profile 1 of 2: a face of its own
    with BuildSketch(Plane(origin=(0, 5, 0), x_dir=(1, 0, 0), z_dir=(0, 1, 0))):
        with BuildLine():
            Line((8.594020551, -70.314094415), (25.094020551, -77.314094415))
            ThreePointArc((25.094020551, -77.314094415), (29.814094415, -75.405979449), (27.905979449, -70.685905585))
            Line((27.905979449, -70.685905585), (11.405979449, -63.685905585))
            ThreePointArc((11.405979449, -63.685905585), (6.685905585, -65.594020551), (8.594020551, -70.314094415))
        make_face()
        with Locations(Location((10, -67, 0), (0, 0, 270))):
            Circle(SKETCH_15_R, mode=Mode.SUBTRACT)
        with Locations(Location((26.5, -74, 0), (0, 0, 270))):
            Circle(SKETCH_15_R_2, mode=Mode.SUBTRACT)
    # profile 2 of 2: a face of its own
    with BuildSketch(Plane(origin=(0, 5, 0), x_dir=(1, 0, 0), z_dir=(0, 1, 0))):
        with BuildLine():
            Line((-11.405979449, -63.685905585), (-27.905979449, -70.685905585))
            ThreePointArc((-27.905979449, -70.685905585), (-29.814094415, -75.405979449), (-25.094020551, -77.314094415))
            Line((-25.094020551, -77.314094415), (-8.594020551, -70.314094415))
            ThreePointArc((-8.594020551, -70.314094415), (-6.685905585, -65.594020551), (-11.405979449, -63.685905585))
        make_face()
        with Locations(Location((-10, -67, 0), (0, 0, 270))):
            Circle(SKETCH_15_R, mode=Mode.SUBTRACT)
        with Locations(Location((-26.5, -74, 0), (0, 0, 270))):
            Circle(SKETCH_15_R_2, mode=Mode.SUBTRACT)
    extrude(amount=-EXTRUDE_9_DEPTH)

    # 圆角5
    fillet_5_edges = [part.edges().sort_by_distance(p)[0] for p in [
        (7.006674091, 2.5, 69),
        (-7.006674091, 2.5, 69),
    ]]
    fillet(fillet_5_edges, radius=FILLET_5_R)

    # 圆角6
    fillet_6_edges = [part.edges().sort_by_distance(p)[0] for p in [
        (15, 2.5, 65.210641577),
        (-15, 2.5, 65.210641577),
    ]]
    fillet(fillet_6_edges, radius=FILLET_6_R)

    # 草图16 → 切除-拉伸6 (cut, through all)
    with BuildSketch(Plane(origin=(0, 5, 0), x_dir=(1, 0, 0), z_dir=(0, 1, 0))):
        with Locations(Location((-63.5, 36.5, 0), (0, 0, 270))):
            Circle(SKETCH_16_R)
        with Locations(Location((-63.5, 11.5, 0), (0, 0, 270))):
            Circle(SKETCH_16_R)
        with Locations(Location((63.5, 11.5, 0), (0, 0, 270))):
            Circle(SKETCH_16_R)
        with Locations(Location((63.5, 36.5, 0), (0, 0, 270))):
            Circle(SKETCH_16_R)
    extrude(amount=-CUT_EXTRUDE_6_DEPTH, mode=Mode.SUBTRACT)


solid = part.part
